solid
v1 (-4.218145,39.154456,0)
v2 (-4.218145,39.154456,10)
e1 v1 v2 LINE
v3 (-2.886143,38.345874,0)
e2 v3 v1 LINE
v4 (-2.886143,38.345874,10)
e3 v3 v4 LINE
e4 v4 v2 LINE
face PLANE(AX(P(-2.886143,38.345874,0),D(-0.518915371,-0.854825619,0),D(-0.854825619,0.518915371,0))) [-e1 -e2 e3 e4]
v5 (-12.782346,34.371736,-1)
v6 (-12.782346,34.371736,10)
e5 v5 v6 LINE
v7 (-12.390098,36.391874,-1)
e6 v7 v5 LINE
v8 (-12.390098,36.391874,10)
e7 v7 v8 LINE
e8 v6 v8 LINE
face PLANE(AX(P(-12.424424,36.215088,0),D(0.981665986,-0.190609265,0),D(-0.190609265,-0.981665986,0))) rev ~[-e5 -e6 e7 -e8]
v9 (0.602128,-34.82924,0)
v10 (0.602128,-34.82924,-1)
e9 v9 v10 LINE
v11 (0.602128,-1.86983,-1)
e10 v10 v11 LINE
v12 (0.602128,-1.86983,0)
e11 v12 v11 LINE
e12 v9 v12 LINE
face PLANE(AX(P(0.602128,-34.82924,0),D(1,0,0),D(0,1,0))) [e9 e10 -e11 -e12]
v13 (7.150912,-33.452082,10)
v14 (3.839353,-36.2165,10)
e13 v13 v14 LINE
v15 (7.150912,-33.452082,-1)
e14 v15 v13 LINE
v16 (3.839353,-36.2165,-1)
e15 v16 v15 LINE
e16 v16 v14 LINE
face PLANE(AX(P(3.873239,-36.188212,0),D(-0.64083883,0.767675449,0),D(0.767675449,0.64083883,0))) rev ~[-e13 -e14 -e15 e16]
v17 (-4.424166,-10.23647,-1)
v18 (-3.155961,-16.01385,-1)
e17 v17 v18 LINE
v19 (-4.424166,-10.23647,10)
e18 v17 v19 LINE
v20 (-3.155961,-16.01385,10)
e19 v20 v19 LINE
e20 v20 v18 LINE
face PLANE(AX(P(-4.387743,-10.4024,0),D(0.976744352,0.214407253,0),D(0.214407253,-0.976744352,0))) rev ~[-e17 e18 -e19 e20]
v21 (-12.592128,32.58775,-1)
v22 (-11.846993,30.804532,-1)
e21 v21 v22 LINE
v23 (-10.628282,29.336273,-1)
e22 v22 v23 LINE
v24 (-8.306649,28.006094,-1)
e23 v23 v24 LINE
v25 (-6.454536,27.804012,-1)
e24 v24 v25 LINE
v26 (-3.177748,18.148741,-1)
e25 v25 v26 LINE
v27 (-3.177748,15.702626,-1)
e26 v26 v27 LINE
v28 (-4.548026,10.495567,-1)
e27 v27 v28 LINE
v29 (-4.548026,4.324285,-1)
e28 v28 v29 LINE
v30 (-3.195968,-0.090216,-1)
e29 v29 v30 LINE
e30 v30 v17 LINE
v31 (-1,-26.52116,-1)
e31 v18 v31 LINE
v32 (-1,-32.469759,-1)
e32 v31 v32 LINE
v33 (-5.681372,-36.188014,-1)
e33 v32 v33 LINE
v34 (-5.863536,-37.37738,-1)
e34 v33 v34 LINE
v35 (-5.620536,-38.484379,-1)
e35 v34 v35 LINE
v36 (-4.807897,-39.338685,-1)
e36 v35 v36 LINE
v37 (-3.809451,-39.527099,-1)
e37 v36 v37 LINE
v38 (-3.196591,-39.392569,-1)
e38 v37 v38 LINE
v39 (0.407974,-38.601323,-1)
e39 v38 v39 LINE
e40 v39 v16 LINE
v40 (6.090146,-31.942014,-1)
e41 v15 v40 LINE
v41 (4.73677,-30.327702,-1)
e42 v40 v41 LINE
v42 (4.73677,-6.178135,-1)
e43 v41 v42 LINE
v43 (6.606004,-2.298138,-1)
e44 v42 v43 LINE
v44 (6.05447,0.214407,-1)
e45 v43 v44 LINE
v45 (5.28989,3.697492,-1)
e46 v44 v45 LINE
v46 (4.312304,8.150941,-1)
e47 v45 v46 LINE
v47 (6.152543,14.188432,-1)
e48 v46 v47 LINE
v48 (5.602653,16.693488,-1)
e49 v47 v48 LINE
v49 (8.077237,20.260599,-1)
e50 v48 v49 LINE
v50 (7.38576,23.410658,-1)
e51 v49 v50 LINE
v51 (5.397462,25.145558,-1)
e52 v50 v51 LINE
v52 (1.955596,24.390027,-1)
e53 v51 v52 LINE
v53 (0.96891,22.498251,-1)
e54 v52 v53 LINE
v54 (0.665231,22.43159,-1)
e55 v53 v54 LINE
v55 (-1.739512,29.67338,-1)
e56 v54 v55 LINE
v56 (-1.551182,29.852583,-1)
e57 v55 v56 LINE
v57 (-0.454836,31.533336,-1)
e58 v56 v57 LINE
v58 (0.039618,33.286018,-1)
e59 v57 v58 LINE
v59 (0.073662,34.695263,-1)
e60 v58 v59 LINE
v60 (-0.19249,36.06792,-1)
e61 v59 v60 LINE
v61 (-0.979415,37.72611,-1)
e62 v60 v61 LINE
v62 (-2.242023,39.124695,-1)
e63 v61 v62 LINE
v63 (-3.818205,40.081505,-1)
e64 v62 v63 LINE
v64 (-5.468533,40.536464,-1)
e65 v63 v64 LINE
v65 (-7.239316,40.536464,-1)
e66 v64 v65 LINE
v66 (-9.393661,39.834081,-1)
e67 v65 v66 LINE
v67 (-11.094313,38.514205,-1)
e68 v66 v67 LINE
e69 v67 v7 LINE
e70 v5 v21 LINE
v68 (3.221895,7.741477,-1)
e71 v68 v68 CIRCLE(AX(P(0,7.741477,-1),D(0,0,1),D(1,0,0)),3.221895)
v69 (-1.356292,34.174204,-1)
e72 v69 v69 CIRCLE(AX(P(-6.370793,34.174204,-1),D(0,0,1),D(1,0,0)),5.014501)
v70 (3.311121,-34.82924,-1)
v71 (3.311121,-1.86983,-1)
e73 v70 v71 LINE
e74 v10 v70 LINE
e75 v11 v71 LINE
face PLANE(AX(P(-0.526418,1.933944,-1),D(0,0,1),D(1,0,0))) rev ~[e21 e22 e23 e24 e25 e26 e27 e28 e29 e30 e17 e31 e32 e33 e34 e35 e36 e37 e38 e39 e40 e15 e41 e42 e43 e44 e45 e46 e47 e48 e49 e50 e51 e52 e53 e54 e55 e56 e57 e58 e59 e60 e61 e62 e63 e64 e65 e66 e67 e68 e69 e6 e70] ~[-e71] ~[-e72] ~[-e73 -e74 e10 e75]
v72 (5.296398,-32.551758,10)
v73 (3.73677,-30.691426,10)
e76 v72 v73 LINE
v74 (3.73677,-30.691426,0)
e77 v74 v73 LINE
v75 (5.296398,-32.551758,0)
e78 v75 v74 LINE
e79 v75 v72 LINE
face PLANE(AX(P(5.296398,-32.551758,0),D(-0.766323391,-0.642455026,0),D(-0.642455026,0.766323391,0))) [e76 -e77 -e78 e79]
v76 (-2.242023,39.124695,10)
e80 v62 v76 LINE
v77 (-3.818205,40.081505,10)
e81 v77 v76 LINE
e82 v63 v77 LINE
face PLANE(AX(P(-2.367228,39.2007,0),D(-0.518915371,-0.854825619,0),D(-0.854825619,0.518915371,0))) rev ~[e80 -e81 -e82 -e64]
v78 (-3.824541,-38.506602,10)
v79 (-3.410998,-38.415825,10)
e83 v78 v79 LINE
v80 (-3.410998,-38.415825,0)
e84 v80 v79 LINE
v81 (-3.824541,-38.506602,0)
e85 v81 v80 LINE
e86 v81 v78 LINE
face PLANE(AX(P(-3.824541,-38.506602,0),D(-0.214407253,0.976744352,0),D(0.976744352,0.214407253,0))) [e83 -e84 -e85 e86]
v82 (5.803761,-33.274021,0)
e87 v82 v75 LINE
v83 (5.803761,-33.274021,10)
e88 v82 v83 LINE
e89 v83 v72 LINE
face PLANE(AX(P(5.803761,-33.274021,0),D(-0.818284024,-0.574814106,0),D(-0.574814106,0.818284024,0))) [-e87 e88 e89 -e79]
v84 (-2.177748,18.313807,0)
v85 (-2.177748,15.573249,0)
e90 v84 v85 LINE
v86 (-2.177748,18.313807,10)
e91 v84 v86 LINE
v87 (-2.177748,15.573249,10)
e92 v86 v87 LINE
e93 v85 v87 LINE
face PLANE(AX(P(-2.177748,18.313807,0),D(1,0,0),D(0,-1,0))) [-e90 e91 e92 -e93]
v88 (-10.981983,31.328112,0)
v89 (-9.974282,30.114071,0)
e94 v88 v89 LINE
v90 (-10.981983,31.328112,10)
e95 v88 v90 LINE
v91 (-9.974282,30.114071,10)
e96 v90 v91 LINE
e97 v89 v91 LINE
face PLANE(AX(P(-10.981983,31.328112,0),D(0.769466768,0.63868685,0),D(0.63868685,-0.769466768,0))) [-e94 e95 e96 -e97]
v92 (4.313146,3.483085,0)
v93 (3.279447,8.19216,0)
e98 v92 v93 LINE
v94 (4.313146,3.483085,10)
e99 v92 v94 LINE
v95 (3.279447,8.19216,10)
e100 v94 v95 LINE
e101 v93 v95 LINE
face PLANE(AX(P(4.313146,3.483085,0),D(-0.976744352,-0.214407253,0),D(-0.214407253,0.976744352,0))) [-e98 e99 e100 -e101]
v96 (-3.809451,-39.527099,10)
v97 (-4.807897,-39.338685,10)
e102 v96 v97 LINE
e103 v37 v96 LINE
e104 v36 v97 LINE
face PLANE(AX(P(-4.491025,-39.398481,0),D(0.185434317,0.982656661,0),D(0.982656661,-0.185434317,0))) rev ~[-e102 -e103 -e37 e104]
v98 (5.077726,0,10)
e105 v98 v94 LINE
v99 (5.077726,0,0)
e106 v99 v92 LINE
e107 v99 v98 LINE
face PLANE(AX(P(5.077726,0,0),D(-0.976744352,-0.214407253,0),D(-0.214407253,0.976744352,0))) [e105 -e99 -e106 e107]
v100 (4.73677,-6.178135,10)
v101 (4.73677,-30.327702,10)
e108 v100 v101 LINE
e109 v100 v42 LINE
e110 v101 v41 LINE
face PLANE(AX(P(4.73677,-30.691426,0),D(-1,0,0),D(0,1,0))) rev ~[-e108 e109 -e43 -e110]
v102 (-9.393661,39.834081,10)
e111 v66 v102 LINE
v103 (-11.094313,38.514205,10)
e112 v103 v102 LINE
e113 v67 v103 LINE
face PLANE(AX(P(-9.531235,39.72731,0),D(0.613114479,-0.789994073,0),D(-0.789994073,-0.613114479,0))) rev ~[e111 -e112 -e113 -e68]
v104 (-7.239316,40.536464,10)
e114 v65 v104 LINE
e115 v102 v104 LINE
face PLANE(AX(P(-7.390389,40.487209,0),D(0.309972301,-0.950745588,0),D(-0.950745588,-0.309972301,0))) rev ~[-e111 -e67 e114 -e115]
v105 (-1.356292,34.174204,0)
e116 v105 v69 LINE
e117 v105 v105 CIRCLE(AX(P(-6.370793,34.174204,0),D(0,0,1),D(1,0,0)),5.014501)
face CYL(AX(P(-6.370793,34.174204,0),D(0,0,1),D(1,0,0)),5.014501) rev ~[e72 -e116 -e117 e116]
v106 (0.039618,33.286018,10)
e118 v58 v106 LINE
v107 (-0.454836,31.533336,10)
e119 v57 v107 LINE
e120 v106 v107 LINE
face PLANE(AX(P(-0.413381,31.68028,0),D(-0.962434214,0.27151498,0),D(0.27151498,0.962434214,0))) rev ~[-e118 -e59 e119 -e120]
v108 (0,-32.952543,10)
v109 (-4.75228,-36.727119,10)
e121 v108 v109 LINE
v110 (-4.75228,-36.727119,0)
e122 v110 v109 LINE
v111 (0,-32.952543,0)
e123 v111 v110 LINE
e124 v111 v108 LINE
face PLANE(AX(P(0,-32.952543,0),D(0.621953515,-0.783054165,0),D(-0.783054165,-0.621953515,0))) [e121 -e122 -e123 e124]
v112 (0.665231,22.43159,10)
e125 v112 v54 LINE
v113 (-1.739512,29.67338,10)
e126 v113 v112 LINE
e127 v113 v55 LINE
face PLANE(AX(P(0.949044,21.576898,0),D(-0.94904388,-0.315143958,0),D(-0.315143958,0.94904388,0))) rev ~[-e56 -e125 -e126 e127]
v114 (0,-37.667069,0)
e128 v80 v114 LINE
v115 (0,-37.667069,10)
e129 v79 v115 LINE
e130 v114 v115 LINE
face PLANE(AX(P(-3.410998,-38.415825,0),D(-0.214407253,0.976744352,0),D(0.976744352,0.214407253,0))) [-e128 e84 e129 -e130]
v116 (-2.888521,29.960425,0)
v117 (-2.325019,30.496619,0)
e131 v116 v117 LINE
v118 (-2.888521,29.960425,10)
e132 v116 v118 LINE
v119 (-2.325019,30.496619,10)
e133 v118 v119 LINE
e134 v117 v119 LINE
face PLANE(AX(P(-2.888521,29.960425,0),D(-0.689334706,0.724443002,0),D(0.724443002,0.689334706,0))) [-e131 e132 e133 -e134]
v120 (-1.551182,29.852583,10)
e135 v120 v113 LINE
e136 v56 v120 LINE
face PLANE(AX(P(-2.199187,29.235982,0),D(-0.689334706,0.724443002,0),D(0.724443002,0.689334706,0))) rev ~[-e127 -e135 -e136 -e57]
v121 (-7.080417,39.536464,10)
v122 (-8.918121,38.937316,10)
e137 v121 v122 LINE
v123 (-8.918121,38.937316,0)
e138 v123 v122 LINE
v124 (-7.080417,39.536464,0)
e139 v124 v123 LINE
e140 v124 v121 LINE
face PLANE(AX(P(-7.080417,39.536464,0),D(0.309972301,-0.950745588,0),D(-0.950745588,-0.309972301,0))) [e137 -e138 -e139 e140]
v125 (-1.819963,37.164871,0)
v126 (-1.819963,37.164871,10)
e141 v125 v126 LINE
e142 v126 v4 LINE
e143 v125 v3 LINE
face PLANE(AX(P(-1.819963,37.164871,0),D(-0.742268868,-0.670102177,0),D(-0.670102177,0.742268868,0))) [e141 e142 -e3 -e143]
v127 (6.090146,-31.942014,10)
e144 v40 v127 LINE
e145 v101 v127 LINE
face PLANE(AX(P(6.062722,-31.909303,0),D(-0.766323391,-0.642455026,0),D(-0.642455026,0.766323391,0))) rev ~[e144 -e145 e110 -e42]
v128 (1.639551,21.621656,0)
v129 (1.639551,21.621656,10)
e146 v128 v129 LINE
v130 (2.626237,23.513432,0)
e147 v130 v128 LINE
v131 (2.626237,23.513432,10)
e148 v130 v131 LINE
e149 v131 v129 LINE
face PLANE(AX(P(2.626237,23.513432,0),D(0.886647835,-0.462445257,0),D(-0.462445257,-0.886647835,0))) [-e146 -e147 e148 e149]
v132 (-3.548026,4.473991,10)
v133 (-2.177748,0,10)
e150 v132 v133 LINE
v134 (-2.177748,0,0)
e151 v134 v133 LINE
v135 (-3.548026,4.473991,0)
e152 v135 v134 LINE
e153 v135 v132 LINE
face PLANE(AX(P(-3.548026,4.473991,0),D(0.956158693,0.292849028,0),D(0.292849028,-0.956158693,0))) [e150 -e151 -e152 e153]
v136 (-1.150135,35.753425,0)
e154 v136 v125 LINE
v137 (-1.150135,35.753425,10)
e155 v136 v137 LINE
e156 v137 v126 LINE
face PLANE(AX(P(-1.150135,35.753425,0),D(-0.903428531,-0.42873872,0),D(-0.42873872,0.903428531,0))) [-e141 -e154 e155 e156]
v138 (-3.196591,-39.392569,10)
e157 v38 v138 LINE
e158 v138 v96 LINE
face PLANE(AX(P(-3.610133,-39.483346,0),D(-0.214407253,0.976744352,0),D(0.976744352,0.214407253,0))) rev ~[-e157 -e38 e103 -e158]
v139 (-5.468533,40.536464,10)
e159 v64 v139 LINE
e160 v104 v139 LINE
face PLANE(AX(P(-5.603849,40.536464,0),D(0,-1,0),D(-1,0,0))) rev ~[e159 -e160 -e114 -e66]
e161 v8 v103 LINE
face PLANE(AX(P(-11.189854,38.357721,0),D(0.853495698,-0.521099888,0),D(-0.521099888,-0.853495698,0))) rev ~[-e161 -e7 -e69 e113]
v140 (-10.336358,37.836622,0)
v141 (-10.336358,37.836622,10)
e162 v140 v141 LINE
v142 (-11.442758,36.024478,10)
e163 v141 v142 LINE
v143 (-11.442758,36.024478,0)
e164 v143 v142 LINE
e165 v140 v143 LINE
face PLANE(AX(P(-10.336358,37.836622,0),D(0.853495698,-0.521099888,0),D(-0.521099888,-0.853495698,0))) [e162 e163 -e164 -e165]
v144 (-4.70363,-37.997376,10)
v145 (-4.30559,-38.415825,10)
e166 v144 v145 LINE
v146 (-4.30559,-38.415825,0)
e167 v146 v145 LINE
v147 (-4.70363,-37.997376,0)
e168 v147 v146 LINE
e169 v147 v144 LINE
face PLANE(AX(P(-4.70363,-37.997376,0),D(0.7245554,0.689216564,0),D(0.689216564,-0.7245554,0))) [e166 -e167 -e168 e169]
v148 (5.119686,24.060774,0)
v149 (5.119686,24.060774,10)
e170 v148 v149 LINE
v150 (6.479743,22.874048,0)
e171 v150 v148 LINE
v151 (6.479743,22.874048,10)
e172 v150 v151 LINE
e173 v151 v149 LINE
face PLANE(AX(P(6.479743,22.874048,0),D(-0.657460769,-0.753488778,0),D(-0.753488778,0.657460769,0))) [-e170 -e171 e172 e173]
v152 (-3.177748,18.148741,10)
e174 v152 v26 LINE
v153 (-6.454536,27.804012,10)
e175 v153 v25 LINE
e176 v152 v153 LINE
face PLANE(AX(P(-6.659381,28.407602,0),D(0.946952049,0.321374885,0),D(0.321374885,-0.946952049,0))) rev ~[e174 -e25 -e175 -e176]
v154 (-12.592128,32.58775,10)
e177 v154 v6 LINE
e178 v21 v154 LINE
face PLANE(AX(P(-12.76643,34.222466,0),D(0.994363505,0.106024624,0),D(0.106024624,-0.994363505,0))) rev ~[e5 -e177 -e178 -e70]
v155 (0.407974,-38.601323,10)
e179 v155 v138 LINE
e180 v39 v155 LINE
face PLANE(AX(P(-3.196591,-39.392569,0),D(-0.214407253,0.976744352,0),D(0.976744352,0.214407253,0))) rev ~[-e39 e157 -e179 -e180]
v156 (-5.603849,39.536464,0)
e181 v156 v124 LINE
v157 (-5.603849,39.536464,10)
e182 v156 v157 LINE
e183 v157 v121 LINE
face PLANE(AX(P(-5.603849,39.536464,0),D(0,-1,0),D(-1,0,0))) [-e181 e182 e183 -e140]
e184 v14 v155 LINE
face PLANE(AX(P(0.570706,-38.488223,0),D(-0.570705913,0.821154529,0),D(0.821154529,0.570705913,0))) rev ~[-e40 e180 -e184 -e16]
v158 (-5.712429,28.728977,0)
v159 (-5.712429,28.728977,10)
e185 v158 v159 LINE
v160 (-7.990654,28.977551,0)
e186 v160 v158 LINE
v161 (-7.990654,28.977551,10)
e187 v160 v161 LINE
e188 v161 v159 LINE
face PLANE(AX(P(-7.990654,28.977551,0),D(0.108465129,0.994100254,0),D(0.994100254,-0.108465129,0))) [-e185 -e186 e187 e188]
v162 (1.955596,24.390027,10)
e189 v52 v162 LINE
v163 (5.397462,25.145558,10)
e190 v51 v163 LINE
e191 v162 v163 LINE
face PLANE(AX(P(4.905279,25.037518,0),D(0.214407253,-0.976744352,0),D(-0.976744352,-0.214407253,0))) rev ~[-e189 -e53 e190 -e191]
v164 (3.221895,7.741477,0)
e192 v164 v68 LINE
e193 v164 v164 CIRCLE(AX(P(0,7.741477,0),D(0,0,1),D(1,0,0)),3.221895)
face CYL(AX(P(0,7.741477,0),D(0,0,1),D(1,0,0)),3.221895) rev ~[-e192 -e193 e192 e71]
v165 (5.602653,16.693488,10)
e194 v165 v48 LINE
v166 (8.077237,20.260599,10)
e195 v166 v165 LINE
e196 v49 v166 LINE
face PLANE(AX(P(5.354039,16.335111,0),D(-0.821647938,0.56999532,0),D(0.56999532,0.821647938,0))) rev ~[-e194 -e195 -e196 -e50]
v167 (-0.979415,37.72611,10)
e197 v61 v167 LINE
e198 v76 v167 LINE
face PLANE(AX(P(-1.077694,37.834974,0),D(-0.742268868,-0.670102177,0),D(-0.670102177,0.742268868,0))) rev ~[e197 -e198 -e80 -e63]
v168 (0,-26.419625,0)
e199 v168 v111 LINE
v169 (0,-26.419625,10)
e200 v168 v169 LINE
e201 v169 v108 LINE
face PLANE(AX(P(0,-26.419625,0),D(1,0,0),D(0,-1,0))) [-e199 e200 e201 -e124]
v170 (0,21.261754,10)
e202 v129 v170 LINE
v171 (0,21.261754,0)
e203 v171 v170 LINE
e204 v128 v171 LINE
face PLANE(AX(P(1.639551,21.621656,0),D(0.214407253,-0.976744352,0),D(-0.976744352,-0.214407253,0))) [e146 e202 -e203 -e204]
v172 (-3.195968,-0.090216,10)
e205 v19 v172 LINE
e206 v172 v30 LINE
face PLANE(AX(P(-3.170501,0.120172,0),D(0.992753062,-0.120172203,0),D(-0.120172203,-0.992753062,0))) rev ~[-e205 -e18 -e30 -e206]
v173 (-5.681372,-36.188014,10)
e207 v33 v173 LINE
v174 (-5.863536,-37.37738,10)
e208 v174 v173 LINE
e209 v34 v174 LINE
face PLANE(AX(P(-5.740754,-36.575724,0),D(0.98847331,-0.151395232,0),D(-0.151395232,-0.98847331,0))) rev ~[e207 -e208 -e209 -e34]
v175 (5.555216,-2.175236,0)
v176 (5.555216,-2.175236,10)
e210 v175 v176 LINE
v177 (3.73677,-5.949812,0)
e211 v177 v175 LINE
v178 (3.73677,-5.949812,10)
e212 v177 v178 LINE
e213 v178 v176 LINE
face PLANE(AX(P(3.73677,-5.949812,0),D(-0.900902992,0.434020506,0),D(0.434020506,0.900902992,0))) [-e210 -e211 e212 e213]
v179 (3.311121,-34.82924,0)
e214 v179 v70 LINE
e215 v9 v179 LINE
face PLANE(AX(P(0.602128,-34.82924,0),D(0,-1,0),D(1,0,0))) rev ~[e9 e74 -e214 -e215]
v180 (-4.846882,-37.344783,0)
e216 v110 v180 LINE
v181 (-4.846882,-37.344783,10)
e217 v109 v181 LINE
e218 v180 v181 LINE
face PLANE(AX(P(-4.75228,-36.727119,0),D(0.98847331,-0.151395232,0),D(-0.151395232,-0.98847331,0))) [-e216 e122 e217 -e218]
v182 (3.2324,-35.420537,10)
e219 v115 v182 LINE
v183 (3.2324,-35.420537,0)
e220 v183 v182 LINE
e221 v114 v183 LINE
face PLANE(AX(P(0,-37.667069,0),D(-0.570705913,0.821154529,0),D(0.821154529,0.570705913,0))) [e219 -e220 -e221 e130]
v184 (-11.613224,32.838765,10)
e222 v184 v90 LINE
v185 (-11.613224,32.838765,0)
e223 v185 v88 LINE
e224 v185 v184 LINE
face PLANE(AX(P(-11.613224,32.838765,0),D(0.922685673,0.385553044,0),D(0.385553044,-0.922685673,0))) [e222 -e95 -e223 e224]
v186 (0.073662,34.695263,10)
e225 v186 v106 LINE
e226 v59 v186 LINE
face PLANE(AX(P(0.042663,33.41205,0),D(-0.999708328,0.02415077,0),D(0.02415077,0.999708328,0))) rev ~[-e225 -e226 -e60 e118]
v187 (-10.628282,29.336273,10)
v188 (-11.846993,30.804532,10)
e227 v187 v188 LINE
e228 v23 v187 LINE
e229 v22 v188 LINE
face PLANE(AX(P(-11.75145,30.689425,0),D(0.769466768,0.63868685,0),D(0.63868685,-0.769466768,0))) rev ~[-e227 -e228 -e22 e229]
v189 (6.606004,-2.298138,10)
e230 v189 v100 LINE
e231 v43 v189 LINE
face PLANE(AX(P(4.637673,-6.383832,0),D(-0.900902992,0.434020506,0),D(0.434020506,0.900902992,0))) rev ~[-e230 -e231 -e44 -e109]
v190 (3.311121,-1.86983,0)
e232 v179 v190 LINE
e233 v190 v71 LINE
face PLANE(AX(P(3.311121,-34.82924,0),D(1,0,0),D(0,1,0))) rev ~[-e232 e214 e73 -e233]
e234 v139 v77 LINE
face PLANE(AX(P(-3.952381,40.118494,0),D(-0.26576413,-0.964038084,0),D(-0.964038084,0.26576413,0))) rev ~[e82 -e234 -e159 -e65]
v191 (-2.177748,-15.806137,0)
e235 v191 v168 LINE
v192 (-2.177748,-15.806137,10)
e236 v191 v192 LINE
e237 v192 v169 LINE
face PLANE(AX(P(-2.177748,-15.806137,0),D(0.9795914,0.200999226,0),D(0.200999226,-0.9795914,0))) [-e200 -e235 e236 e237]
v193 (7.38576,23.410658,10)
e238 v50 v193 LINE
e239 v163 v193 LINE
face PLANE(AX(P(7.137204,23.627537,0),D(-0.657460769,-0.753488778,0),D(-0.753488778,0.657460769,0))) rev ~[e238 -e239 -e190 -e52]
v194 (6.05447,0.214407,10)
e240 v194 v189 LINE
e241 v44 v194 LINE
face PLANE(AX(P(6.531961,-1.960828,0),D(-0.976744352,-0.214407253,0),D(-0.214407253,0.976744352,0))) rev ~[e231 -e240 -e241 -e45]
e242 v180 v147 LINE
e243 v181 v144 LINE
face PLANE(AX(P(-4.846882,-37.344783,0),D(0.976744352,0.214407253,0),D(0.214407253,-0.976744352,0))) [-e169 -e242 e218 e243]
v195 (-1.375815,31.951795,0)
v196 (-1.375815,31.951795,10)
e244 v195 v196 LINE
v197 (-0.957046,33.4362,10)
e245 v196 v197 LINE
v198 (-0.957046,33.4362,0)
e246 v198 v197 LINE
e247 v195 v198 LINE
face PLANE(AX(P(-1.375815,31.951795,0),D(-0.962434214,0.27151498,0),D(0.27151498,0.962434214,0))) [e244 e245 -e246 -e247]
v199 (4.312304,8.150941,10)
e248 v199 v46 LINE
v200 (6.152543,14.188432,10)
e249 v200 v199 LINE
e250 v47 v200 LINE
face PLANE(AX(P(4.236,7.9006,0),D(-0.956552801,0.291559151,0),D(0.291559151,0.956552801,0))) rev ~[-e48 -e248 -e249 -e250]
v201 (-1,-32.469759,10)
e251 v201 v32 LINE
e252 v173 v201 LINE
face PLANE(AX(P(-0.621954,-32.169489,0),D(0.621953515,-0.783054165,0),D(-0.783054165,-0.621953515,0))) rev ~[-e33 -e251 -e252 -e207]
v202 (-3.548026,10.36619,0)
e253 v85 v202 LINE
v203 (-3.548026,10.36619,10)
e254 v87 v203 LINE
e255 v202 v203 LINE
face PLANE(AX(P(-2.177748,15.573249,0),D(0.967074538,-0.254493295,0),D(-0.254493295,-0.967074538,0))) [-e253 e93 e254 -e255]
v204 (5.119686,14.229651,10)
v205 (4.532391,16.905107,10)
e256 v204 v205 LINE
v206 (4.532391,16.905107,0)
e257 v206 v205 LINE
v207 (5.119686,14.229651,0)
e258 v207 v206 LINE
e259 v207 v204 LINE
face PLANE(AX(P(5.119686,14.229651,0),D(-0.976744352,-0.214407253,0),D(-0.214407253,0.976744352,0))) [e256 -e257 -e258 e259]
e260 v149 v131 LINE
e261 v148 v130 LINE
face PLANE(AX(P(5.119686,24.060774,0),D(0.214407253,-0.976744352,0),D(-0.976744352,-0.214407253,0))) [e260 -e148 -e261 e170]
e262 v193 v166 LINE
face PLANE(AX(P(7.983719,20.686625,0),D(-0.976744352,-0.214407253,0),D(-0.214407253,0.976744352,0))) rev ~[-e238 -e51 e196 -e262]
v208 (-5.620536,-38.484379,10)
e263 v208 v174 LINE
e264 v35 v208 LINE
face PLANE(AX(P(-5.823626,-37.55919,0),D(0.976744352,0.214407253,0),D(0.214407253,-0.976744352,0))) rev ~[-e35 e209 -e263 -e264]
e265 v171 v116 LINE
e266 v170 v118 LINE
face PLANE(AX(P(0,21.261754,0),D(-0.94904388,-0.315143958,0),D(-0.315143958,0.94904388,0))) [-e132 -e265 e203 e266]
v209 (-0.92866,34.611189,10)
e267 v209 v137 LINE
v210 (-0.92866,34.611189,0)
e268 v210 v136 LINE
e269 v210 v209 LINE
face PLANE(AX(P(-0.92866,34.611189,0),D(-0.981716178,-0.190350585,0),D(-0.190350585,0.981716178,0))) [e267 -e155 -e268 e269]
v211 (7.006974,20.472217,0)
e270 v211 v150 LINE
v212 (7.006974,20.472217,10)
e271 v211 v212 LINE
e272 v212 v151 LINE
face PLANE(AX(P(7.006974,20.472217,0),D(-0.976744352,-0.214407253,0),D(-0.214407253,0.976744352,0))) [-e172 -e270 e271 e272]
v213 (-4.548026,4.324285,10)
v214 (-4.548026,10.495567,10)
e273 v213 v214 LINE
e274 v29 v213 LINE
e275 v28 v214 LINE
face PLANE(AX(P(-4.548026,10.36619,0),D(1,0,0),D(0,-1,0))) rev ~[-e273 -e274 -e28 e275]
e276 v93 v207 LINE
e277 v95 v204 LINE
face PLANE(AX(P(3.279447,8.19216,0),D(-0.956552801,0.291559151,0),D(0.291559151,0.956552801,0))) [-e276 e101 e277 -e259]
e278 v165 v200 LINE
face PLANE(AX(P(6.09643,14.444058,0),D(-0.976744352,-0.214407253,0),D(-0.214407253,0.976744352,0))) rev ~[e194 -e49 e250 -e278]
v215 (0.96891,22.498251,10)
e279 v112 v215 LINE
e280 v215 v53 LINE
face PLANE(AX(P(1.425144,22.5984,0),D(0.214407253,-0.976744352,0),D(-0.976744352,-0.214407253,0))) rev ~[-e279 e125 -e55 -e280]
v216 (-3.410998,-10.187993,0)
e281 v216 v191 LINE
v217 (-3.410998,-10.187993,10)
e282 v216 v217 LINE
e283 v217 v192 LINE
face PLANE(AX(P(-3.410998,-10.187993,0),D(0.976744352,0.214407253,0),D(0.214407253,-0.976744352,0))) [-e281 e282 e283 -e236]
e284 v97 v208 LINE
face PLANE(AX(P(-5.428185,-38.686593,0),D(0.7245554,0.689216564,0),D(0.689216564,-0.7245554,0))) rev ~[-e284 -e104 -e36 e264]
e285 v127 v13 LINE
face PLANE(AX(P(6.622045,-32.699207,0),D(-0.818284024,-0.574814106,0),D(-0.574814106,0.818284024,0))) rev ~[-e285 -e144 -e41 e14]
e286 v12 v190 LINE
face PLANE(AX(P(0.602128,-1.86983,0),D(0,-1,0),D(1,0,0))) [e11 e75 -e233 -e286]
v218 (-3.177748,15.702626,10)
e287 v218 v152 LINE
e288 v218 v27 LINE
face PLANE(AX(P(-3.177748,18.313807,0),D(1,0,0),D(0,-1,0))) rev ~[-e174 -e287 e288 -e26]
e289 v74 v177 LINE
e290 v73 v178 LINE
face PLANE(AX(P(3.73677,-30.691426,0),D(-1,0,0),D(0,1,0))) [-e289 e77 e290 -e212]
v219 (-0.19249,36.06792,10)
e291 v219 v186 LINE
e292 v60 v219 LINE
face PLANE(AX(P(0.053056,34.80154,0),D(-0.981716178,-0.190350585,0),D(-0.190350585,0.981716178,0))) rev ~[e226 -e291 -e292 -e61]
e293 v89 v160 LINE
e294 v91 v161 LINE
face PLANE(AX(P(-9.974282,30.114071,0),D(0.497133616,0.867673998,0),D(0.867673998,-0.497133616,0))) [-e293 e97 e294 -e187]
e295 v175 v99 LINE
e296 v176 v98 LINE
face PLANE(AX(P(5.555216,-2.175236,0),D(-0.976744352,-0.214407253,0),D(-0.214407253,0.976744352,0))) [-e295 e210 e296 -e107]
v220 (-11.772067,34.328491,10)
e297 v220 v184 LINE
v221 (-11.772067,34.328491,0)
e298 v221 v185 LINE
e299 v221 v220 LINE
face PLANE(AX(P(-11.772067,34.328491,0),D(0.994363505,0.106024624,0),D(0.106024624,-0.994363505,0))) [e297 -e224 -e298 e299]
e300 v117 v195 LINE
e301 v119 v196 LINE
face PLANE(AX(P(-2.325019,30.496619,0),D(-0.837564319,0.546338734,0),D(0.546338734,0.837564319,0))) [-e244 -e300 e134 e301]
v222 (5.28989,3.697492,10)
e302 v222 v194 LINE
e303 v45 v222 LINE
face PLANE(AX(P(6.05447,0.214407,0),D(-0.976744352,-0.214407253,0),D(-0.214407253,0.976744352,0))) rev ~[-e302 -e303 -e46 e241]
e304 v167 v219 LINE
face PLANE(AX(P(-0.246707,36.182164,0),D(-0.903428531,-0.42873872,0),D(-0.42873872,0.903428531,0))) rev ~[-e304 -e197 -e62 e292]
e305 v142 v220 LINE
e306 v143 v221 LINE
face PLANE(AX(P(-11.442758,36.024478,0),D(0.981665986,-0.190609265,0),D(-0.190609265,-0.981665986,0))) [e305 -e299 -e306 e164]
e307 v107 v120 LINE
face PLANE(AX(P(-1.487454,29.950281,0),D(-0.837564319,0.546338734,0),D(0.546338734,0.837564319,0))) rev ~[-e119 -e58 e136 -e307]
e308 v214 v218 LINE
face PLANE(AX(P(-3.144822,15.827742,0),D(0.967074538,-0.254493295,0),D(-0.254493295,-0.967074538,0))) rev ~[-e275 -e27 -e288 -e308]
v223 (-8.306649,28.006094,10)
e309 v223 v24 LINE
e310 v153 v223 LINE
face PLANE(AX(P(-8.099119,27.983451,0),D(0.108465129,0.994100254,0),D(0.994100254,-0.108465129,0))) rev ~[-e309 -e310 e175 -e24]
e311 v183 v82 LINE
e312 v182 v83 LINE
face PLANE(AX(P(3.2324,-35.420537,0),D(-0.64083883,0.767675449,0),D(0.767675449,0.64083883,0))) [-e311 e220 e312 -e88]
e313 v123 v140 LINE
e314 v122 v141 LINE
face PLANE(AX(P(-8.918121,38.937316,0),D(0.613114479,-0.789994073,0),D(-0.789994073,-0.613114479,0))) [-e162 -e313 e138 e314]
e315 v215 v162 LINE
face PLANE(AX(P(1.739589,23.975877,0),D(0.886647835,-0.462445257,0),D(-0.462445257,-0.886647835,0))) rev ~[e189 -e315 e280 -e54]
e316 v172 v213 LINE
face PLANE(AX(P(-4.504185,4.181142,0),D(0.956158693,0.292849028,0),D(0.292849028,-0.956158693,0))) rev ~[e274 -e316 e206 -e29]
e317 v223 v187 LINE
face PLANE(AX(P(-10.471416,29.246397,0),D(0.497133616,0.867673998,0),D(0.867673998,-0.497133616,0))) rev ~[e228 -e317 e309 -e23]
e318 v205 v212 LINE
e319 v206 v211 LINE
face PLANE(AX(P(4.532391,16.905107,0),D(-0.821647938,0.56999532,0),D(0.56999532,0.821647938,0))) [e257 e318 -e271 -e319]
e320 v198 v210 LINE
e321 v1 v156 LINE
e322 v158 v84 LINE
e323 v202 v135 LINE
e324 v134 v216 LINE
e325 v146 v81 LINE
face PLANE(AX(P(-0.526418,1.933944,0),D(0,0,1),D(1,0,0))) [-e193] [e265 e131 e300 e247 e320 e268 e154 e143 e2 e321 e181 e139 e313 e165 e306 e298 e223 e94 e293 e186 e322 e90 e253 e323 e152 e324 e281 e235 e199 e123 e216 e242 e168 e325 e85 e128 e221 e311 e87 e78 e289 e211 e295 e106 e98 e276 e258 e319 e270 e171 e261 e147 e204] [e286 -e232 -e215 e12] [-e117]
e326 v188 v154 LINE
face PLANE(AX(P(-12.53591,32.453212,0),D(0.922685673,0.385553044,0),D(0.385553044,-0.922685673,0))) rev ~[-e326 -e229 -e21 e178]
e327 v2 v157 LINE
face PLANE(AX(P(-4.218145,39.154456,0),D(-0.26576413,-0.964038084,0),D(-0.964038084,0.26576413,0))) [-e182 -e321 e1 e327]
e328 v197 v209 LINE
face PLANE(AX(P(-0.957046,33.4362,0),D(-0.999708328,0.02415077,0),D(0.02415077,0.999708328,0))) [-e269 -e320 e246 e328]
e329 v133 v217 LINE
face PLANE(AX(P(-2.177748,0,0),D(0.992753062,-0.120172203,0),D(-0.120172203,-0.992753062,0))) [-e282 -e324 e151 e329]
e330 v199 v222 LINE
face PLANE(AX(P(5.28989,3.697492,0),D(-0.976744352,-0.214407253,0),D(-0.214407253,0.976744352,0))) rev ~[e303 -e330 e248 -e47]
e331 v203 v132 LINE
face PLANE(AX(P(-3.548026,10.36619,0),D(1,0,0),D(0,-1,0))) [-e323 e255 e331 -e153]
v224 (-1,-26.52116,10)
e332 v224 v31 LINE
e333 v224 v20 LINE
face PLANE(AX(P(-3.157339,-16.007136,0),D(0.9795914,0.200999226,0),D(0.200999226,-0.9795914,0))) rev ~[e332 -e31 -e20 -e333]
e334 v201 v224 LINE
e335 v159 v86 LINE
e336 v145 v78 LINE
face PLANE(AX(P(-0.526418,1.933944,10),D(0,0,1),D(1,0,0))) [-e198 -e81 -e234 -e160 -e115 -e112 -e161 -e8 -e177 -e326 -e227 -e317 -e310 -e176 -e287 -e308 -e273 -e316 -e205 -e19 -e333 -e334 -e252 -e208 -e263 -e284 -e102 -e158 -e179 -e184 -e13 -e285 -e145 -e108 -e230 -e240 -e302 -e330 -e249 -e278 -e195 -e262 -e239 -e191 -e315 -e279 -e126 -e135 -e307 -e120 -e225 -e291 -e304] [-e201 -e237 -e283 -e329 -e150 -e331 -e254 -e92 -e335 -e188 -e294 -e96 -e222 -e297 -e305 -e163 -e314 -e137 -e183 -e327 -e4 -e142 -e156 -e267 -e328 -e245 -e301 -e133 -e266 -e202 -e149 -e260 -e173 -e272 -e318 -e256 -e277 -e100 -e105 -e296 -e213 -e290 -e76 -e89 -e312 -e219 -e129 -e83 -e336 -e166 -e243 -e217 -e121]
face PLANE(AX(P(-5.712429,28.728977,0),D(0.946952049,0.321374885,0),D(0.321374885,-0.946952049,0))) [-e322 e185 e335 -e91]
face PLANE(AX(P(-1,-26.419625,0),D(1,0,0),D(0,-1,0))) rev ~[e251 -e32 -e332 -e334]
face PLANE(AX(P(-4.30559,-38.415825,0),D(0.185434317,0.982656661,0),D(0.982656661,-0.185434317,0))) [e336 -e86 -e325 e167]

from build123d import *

# Parameters (mm, degrees)
F1_DEPTH = 10
F2_T     = 1
F3_R     = 3.2218950318
F4_DEPTH = 25.4
F5_R     = 5.0145008795
F6_DEPTH = 25.4
F7_W     = 2.708992688
F7_H     = 32.9594105715
F8_DEPTH = 25


with BuildPart() as f1:
    # F0 (on Top) → F1 (new body)
    with BuildSketch(Plane.XY):
        Polygon((-7.9906535461, 28.9775509901), (-5.7124293756, 28.7289765854), (-2.177747665, 18.313806504), (-2.177747665, 15.5732491985), (-3.5480263177, 10.3661902249), (-3.5480263177, 4.4739907607), (-2.177747665, 0), (-3.410998499, -10.1879928261), (-2.177747665, -15.8061366528), (0, -26.4196246862), (0, -29.9038495868), (0, -32.9525433481), (-4.7522801906, -36.7271192372), (-4.846881947, -37.3447827538), (-4.7036297619, -37.9973761737), (-4.3055904098, -38.4158245646), (-3.8245406306, -38.5066020873), (-3.410998499, -38.4158245646), (0, -37.6670689483), (3.2324001659, -35.4205369949), (5.8037610725, -33.2740206294), (5.2963984199, -32.5517579913), (3.7367703403, -30.6914262474), (3.7367703403, -30.091624707), (3.7367703403, -28.8444478065), (3.7367703403, -22.7698273957), (3.7367703403, -15.2410743758), (3.7367703403, -5.9498115443), (5.555216223, -2.1752356552), (5.0777255662, 0), (4.3131460861, 3.4830850037), (3.2794470092, 8.1921595303), (5.119686015, 14.2296506092), (4.5323909172, 16.9051065964), (7.0069744252, 20.4722173512), (6.4797433326, 22.8740483706), (5.119686015, 24.0607738481), (2.6262372261, 23.513431542), (1.6395514831, 21.6216556728), (0, 21.2617542006), (-2.8885214715, 29.960425262), (-2.3250187241, 30.496619276), (-1.3758151717, 31.9517953008), (-0.9570455703, 33.4362002962), (-0.9286604067, 34.6111891241), (-1.1501351436, 35.753425343), (-1.8199630103, 37.1648714688), (-2.8861434893, 38.3458743138), (-4.2181453118, 39.1544558587), (-5.6038486027, 39.5364638273), (-7.0804168612, 39.5364638273), (-8.9181209402, 38.937315781), (-10.336358338, 37.8366215939), (-11.4427582769, 36.0244784539), (-11.7720668322, 34.3284905467), (-11.6132239292, 32.8387650441), (-10.9819831447, 31.3281121322), (-9.9742822169, 30.1140705775), align=None)
    extrude(amount=F1_DEPTH)

    # F2
    f2_openings = [f1.faces().sort_by_distance(p)[0] for p in [
        (-0.518875, 3.902711, 10),
    ]]
    offset(amount=F2_T, openings=f2_openings, kind=Kind.INTERSECTION)

    # F3 (on Top) → F4 (cut)
    with BuildSketch(Plane.XY):
        with Locations((0, 7.7414768748)):
            Circle(F3_R)
    extrude(amount=-F4_DEPTH, mode=Mode.SUBTRACT)

    # F5 (on Top) → F6 (cut)
    with BuildSketch(Plane.XY):
        with Locations((-6.3707926311, 34.1742038727)):
            Circle(F5_R)
    extrude(amount=-F6_DEPTH, mode=Mode.SUBTRACT)

    # F7 (on Top) → F8 (cut)
    with BuildSketch(Plane.XY):
        with Locations((1.9566247938, -18.3495350066)):
            Rectangle(F7_W, F7_H)
    extrude(amount=-F8_DEPTH, mode=Mode.SUBTRACT)


solid = f1.part
